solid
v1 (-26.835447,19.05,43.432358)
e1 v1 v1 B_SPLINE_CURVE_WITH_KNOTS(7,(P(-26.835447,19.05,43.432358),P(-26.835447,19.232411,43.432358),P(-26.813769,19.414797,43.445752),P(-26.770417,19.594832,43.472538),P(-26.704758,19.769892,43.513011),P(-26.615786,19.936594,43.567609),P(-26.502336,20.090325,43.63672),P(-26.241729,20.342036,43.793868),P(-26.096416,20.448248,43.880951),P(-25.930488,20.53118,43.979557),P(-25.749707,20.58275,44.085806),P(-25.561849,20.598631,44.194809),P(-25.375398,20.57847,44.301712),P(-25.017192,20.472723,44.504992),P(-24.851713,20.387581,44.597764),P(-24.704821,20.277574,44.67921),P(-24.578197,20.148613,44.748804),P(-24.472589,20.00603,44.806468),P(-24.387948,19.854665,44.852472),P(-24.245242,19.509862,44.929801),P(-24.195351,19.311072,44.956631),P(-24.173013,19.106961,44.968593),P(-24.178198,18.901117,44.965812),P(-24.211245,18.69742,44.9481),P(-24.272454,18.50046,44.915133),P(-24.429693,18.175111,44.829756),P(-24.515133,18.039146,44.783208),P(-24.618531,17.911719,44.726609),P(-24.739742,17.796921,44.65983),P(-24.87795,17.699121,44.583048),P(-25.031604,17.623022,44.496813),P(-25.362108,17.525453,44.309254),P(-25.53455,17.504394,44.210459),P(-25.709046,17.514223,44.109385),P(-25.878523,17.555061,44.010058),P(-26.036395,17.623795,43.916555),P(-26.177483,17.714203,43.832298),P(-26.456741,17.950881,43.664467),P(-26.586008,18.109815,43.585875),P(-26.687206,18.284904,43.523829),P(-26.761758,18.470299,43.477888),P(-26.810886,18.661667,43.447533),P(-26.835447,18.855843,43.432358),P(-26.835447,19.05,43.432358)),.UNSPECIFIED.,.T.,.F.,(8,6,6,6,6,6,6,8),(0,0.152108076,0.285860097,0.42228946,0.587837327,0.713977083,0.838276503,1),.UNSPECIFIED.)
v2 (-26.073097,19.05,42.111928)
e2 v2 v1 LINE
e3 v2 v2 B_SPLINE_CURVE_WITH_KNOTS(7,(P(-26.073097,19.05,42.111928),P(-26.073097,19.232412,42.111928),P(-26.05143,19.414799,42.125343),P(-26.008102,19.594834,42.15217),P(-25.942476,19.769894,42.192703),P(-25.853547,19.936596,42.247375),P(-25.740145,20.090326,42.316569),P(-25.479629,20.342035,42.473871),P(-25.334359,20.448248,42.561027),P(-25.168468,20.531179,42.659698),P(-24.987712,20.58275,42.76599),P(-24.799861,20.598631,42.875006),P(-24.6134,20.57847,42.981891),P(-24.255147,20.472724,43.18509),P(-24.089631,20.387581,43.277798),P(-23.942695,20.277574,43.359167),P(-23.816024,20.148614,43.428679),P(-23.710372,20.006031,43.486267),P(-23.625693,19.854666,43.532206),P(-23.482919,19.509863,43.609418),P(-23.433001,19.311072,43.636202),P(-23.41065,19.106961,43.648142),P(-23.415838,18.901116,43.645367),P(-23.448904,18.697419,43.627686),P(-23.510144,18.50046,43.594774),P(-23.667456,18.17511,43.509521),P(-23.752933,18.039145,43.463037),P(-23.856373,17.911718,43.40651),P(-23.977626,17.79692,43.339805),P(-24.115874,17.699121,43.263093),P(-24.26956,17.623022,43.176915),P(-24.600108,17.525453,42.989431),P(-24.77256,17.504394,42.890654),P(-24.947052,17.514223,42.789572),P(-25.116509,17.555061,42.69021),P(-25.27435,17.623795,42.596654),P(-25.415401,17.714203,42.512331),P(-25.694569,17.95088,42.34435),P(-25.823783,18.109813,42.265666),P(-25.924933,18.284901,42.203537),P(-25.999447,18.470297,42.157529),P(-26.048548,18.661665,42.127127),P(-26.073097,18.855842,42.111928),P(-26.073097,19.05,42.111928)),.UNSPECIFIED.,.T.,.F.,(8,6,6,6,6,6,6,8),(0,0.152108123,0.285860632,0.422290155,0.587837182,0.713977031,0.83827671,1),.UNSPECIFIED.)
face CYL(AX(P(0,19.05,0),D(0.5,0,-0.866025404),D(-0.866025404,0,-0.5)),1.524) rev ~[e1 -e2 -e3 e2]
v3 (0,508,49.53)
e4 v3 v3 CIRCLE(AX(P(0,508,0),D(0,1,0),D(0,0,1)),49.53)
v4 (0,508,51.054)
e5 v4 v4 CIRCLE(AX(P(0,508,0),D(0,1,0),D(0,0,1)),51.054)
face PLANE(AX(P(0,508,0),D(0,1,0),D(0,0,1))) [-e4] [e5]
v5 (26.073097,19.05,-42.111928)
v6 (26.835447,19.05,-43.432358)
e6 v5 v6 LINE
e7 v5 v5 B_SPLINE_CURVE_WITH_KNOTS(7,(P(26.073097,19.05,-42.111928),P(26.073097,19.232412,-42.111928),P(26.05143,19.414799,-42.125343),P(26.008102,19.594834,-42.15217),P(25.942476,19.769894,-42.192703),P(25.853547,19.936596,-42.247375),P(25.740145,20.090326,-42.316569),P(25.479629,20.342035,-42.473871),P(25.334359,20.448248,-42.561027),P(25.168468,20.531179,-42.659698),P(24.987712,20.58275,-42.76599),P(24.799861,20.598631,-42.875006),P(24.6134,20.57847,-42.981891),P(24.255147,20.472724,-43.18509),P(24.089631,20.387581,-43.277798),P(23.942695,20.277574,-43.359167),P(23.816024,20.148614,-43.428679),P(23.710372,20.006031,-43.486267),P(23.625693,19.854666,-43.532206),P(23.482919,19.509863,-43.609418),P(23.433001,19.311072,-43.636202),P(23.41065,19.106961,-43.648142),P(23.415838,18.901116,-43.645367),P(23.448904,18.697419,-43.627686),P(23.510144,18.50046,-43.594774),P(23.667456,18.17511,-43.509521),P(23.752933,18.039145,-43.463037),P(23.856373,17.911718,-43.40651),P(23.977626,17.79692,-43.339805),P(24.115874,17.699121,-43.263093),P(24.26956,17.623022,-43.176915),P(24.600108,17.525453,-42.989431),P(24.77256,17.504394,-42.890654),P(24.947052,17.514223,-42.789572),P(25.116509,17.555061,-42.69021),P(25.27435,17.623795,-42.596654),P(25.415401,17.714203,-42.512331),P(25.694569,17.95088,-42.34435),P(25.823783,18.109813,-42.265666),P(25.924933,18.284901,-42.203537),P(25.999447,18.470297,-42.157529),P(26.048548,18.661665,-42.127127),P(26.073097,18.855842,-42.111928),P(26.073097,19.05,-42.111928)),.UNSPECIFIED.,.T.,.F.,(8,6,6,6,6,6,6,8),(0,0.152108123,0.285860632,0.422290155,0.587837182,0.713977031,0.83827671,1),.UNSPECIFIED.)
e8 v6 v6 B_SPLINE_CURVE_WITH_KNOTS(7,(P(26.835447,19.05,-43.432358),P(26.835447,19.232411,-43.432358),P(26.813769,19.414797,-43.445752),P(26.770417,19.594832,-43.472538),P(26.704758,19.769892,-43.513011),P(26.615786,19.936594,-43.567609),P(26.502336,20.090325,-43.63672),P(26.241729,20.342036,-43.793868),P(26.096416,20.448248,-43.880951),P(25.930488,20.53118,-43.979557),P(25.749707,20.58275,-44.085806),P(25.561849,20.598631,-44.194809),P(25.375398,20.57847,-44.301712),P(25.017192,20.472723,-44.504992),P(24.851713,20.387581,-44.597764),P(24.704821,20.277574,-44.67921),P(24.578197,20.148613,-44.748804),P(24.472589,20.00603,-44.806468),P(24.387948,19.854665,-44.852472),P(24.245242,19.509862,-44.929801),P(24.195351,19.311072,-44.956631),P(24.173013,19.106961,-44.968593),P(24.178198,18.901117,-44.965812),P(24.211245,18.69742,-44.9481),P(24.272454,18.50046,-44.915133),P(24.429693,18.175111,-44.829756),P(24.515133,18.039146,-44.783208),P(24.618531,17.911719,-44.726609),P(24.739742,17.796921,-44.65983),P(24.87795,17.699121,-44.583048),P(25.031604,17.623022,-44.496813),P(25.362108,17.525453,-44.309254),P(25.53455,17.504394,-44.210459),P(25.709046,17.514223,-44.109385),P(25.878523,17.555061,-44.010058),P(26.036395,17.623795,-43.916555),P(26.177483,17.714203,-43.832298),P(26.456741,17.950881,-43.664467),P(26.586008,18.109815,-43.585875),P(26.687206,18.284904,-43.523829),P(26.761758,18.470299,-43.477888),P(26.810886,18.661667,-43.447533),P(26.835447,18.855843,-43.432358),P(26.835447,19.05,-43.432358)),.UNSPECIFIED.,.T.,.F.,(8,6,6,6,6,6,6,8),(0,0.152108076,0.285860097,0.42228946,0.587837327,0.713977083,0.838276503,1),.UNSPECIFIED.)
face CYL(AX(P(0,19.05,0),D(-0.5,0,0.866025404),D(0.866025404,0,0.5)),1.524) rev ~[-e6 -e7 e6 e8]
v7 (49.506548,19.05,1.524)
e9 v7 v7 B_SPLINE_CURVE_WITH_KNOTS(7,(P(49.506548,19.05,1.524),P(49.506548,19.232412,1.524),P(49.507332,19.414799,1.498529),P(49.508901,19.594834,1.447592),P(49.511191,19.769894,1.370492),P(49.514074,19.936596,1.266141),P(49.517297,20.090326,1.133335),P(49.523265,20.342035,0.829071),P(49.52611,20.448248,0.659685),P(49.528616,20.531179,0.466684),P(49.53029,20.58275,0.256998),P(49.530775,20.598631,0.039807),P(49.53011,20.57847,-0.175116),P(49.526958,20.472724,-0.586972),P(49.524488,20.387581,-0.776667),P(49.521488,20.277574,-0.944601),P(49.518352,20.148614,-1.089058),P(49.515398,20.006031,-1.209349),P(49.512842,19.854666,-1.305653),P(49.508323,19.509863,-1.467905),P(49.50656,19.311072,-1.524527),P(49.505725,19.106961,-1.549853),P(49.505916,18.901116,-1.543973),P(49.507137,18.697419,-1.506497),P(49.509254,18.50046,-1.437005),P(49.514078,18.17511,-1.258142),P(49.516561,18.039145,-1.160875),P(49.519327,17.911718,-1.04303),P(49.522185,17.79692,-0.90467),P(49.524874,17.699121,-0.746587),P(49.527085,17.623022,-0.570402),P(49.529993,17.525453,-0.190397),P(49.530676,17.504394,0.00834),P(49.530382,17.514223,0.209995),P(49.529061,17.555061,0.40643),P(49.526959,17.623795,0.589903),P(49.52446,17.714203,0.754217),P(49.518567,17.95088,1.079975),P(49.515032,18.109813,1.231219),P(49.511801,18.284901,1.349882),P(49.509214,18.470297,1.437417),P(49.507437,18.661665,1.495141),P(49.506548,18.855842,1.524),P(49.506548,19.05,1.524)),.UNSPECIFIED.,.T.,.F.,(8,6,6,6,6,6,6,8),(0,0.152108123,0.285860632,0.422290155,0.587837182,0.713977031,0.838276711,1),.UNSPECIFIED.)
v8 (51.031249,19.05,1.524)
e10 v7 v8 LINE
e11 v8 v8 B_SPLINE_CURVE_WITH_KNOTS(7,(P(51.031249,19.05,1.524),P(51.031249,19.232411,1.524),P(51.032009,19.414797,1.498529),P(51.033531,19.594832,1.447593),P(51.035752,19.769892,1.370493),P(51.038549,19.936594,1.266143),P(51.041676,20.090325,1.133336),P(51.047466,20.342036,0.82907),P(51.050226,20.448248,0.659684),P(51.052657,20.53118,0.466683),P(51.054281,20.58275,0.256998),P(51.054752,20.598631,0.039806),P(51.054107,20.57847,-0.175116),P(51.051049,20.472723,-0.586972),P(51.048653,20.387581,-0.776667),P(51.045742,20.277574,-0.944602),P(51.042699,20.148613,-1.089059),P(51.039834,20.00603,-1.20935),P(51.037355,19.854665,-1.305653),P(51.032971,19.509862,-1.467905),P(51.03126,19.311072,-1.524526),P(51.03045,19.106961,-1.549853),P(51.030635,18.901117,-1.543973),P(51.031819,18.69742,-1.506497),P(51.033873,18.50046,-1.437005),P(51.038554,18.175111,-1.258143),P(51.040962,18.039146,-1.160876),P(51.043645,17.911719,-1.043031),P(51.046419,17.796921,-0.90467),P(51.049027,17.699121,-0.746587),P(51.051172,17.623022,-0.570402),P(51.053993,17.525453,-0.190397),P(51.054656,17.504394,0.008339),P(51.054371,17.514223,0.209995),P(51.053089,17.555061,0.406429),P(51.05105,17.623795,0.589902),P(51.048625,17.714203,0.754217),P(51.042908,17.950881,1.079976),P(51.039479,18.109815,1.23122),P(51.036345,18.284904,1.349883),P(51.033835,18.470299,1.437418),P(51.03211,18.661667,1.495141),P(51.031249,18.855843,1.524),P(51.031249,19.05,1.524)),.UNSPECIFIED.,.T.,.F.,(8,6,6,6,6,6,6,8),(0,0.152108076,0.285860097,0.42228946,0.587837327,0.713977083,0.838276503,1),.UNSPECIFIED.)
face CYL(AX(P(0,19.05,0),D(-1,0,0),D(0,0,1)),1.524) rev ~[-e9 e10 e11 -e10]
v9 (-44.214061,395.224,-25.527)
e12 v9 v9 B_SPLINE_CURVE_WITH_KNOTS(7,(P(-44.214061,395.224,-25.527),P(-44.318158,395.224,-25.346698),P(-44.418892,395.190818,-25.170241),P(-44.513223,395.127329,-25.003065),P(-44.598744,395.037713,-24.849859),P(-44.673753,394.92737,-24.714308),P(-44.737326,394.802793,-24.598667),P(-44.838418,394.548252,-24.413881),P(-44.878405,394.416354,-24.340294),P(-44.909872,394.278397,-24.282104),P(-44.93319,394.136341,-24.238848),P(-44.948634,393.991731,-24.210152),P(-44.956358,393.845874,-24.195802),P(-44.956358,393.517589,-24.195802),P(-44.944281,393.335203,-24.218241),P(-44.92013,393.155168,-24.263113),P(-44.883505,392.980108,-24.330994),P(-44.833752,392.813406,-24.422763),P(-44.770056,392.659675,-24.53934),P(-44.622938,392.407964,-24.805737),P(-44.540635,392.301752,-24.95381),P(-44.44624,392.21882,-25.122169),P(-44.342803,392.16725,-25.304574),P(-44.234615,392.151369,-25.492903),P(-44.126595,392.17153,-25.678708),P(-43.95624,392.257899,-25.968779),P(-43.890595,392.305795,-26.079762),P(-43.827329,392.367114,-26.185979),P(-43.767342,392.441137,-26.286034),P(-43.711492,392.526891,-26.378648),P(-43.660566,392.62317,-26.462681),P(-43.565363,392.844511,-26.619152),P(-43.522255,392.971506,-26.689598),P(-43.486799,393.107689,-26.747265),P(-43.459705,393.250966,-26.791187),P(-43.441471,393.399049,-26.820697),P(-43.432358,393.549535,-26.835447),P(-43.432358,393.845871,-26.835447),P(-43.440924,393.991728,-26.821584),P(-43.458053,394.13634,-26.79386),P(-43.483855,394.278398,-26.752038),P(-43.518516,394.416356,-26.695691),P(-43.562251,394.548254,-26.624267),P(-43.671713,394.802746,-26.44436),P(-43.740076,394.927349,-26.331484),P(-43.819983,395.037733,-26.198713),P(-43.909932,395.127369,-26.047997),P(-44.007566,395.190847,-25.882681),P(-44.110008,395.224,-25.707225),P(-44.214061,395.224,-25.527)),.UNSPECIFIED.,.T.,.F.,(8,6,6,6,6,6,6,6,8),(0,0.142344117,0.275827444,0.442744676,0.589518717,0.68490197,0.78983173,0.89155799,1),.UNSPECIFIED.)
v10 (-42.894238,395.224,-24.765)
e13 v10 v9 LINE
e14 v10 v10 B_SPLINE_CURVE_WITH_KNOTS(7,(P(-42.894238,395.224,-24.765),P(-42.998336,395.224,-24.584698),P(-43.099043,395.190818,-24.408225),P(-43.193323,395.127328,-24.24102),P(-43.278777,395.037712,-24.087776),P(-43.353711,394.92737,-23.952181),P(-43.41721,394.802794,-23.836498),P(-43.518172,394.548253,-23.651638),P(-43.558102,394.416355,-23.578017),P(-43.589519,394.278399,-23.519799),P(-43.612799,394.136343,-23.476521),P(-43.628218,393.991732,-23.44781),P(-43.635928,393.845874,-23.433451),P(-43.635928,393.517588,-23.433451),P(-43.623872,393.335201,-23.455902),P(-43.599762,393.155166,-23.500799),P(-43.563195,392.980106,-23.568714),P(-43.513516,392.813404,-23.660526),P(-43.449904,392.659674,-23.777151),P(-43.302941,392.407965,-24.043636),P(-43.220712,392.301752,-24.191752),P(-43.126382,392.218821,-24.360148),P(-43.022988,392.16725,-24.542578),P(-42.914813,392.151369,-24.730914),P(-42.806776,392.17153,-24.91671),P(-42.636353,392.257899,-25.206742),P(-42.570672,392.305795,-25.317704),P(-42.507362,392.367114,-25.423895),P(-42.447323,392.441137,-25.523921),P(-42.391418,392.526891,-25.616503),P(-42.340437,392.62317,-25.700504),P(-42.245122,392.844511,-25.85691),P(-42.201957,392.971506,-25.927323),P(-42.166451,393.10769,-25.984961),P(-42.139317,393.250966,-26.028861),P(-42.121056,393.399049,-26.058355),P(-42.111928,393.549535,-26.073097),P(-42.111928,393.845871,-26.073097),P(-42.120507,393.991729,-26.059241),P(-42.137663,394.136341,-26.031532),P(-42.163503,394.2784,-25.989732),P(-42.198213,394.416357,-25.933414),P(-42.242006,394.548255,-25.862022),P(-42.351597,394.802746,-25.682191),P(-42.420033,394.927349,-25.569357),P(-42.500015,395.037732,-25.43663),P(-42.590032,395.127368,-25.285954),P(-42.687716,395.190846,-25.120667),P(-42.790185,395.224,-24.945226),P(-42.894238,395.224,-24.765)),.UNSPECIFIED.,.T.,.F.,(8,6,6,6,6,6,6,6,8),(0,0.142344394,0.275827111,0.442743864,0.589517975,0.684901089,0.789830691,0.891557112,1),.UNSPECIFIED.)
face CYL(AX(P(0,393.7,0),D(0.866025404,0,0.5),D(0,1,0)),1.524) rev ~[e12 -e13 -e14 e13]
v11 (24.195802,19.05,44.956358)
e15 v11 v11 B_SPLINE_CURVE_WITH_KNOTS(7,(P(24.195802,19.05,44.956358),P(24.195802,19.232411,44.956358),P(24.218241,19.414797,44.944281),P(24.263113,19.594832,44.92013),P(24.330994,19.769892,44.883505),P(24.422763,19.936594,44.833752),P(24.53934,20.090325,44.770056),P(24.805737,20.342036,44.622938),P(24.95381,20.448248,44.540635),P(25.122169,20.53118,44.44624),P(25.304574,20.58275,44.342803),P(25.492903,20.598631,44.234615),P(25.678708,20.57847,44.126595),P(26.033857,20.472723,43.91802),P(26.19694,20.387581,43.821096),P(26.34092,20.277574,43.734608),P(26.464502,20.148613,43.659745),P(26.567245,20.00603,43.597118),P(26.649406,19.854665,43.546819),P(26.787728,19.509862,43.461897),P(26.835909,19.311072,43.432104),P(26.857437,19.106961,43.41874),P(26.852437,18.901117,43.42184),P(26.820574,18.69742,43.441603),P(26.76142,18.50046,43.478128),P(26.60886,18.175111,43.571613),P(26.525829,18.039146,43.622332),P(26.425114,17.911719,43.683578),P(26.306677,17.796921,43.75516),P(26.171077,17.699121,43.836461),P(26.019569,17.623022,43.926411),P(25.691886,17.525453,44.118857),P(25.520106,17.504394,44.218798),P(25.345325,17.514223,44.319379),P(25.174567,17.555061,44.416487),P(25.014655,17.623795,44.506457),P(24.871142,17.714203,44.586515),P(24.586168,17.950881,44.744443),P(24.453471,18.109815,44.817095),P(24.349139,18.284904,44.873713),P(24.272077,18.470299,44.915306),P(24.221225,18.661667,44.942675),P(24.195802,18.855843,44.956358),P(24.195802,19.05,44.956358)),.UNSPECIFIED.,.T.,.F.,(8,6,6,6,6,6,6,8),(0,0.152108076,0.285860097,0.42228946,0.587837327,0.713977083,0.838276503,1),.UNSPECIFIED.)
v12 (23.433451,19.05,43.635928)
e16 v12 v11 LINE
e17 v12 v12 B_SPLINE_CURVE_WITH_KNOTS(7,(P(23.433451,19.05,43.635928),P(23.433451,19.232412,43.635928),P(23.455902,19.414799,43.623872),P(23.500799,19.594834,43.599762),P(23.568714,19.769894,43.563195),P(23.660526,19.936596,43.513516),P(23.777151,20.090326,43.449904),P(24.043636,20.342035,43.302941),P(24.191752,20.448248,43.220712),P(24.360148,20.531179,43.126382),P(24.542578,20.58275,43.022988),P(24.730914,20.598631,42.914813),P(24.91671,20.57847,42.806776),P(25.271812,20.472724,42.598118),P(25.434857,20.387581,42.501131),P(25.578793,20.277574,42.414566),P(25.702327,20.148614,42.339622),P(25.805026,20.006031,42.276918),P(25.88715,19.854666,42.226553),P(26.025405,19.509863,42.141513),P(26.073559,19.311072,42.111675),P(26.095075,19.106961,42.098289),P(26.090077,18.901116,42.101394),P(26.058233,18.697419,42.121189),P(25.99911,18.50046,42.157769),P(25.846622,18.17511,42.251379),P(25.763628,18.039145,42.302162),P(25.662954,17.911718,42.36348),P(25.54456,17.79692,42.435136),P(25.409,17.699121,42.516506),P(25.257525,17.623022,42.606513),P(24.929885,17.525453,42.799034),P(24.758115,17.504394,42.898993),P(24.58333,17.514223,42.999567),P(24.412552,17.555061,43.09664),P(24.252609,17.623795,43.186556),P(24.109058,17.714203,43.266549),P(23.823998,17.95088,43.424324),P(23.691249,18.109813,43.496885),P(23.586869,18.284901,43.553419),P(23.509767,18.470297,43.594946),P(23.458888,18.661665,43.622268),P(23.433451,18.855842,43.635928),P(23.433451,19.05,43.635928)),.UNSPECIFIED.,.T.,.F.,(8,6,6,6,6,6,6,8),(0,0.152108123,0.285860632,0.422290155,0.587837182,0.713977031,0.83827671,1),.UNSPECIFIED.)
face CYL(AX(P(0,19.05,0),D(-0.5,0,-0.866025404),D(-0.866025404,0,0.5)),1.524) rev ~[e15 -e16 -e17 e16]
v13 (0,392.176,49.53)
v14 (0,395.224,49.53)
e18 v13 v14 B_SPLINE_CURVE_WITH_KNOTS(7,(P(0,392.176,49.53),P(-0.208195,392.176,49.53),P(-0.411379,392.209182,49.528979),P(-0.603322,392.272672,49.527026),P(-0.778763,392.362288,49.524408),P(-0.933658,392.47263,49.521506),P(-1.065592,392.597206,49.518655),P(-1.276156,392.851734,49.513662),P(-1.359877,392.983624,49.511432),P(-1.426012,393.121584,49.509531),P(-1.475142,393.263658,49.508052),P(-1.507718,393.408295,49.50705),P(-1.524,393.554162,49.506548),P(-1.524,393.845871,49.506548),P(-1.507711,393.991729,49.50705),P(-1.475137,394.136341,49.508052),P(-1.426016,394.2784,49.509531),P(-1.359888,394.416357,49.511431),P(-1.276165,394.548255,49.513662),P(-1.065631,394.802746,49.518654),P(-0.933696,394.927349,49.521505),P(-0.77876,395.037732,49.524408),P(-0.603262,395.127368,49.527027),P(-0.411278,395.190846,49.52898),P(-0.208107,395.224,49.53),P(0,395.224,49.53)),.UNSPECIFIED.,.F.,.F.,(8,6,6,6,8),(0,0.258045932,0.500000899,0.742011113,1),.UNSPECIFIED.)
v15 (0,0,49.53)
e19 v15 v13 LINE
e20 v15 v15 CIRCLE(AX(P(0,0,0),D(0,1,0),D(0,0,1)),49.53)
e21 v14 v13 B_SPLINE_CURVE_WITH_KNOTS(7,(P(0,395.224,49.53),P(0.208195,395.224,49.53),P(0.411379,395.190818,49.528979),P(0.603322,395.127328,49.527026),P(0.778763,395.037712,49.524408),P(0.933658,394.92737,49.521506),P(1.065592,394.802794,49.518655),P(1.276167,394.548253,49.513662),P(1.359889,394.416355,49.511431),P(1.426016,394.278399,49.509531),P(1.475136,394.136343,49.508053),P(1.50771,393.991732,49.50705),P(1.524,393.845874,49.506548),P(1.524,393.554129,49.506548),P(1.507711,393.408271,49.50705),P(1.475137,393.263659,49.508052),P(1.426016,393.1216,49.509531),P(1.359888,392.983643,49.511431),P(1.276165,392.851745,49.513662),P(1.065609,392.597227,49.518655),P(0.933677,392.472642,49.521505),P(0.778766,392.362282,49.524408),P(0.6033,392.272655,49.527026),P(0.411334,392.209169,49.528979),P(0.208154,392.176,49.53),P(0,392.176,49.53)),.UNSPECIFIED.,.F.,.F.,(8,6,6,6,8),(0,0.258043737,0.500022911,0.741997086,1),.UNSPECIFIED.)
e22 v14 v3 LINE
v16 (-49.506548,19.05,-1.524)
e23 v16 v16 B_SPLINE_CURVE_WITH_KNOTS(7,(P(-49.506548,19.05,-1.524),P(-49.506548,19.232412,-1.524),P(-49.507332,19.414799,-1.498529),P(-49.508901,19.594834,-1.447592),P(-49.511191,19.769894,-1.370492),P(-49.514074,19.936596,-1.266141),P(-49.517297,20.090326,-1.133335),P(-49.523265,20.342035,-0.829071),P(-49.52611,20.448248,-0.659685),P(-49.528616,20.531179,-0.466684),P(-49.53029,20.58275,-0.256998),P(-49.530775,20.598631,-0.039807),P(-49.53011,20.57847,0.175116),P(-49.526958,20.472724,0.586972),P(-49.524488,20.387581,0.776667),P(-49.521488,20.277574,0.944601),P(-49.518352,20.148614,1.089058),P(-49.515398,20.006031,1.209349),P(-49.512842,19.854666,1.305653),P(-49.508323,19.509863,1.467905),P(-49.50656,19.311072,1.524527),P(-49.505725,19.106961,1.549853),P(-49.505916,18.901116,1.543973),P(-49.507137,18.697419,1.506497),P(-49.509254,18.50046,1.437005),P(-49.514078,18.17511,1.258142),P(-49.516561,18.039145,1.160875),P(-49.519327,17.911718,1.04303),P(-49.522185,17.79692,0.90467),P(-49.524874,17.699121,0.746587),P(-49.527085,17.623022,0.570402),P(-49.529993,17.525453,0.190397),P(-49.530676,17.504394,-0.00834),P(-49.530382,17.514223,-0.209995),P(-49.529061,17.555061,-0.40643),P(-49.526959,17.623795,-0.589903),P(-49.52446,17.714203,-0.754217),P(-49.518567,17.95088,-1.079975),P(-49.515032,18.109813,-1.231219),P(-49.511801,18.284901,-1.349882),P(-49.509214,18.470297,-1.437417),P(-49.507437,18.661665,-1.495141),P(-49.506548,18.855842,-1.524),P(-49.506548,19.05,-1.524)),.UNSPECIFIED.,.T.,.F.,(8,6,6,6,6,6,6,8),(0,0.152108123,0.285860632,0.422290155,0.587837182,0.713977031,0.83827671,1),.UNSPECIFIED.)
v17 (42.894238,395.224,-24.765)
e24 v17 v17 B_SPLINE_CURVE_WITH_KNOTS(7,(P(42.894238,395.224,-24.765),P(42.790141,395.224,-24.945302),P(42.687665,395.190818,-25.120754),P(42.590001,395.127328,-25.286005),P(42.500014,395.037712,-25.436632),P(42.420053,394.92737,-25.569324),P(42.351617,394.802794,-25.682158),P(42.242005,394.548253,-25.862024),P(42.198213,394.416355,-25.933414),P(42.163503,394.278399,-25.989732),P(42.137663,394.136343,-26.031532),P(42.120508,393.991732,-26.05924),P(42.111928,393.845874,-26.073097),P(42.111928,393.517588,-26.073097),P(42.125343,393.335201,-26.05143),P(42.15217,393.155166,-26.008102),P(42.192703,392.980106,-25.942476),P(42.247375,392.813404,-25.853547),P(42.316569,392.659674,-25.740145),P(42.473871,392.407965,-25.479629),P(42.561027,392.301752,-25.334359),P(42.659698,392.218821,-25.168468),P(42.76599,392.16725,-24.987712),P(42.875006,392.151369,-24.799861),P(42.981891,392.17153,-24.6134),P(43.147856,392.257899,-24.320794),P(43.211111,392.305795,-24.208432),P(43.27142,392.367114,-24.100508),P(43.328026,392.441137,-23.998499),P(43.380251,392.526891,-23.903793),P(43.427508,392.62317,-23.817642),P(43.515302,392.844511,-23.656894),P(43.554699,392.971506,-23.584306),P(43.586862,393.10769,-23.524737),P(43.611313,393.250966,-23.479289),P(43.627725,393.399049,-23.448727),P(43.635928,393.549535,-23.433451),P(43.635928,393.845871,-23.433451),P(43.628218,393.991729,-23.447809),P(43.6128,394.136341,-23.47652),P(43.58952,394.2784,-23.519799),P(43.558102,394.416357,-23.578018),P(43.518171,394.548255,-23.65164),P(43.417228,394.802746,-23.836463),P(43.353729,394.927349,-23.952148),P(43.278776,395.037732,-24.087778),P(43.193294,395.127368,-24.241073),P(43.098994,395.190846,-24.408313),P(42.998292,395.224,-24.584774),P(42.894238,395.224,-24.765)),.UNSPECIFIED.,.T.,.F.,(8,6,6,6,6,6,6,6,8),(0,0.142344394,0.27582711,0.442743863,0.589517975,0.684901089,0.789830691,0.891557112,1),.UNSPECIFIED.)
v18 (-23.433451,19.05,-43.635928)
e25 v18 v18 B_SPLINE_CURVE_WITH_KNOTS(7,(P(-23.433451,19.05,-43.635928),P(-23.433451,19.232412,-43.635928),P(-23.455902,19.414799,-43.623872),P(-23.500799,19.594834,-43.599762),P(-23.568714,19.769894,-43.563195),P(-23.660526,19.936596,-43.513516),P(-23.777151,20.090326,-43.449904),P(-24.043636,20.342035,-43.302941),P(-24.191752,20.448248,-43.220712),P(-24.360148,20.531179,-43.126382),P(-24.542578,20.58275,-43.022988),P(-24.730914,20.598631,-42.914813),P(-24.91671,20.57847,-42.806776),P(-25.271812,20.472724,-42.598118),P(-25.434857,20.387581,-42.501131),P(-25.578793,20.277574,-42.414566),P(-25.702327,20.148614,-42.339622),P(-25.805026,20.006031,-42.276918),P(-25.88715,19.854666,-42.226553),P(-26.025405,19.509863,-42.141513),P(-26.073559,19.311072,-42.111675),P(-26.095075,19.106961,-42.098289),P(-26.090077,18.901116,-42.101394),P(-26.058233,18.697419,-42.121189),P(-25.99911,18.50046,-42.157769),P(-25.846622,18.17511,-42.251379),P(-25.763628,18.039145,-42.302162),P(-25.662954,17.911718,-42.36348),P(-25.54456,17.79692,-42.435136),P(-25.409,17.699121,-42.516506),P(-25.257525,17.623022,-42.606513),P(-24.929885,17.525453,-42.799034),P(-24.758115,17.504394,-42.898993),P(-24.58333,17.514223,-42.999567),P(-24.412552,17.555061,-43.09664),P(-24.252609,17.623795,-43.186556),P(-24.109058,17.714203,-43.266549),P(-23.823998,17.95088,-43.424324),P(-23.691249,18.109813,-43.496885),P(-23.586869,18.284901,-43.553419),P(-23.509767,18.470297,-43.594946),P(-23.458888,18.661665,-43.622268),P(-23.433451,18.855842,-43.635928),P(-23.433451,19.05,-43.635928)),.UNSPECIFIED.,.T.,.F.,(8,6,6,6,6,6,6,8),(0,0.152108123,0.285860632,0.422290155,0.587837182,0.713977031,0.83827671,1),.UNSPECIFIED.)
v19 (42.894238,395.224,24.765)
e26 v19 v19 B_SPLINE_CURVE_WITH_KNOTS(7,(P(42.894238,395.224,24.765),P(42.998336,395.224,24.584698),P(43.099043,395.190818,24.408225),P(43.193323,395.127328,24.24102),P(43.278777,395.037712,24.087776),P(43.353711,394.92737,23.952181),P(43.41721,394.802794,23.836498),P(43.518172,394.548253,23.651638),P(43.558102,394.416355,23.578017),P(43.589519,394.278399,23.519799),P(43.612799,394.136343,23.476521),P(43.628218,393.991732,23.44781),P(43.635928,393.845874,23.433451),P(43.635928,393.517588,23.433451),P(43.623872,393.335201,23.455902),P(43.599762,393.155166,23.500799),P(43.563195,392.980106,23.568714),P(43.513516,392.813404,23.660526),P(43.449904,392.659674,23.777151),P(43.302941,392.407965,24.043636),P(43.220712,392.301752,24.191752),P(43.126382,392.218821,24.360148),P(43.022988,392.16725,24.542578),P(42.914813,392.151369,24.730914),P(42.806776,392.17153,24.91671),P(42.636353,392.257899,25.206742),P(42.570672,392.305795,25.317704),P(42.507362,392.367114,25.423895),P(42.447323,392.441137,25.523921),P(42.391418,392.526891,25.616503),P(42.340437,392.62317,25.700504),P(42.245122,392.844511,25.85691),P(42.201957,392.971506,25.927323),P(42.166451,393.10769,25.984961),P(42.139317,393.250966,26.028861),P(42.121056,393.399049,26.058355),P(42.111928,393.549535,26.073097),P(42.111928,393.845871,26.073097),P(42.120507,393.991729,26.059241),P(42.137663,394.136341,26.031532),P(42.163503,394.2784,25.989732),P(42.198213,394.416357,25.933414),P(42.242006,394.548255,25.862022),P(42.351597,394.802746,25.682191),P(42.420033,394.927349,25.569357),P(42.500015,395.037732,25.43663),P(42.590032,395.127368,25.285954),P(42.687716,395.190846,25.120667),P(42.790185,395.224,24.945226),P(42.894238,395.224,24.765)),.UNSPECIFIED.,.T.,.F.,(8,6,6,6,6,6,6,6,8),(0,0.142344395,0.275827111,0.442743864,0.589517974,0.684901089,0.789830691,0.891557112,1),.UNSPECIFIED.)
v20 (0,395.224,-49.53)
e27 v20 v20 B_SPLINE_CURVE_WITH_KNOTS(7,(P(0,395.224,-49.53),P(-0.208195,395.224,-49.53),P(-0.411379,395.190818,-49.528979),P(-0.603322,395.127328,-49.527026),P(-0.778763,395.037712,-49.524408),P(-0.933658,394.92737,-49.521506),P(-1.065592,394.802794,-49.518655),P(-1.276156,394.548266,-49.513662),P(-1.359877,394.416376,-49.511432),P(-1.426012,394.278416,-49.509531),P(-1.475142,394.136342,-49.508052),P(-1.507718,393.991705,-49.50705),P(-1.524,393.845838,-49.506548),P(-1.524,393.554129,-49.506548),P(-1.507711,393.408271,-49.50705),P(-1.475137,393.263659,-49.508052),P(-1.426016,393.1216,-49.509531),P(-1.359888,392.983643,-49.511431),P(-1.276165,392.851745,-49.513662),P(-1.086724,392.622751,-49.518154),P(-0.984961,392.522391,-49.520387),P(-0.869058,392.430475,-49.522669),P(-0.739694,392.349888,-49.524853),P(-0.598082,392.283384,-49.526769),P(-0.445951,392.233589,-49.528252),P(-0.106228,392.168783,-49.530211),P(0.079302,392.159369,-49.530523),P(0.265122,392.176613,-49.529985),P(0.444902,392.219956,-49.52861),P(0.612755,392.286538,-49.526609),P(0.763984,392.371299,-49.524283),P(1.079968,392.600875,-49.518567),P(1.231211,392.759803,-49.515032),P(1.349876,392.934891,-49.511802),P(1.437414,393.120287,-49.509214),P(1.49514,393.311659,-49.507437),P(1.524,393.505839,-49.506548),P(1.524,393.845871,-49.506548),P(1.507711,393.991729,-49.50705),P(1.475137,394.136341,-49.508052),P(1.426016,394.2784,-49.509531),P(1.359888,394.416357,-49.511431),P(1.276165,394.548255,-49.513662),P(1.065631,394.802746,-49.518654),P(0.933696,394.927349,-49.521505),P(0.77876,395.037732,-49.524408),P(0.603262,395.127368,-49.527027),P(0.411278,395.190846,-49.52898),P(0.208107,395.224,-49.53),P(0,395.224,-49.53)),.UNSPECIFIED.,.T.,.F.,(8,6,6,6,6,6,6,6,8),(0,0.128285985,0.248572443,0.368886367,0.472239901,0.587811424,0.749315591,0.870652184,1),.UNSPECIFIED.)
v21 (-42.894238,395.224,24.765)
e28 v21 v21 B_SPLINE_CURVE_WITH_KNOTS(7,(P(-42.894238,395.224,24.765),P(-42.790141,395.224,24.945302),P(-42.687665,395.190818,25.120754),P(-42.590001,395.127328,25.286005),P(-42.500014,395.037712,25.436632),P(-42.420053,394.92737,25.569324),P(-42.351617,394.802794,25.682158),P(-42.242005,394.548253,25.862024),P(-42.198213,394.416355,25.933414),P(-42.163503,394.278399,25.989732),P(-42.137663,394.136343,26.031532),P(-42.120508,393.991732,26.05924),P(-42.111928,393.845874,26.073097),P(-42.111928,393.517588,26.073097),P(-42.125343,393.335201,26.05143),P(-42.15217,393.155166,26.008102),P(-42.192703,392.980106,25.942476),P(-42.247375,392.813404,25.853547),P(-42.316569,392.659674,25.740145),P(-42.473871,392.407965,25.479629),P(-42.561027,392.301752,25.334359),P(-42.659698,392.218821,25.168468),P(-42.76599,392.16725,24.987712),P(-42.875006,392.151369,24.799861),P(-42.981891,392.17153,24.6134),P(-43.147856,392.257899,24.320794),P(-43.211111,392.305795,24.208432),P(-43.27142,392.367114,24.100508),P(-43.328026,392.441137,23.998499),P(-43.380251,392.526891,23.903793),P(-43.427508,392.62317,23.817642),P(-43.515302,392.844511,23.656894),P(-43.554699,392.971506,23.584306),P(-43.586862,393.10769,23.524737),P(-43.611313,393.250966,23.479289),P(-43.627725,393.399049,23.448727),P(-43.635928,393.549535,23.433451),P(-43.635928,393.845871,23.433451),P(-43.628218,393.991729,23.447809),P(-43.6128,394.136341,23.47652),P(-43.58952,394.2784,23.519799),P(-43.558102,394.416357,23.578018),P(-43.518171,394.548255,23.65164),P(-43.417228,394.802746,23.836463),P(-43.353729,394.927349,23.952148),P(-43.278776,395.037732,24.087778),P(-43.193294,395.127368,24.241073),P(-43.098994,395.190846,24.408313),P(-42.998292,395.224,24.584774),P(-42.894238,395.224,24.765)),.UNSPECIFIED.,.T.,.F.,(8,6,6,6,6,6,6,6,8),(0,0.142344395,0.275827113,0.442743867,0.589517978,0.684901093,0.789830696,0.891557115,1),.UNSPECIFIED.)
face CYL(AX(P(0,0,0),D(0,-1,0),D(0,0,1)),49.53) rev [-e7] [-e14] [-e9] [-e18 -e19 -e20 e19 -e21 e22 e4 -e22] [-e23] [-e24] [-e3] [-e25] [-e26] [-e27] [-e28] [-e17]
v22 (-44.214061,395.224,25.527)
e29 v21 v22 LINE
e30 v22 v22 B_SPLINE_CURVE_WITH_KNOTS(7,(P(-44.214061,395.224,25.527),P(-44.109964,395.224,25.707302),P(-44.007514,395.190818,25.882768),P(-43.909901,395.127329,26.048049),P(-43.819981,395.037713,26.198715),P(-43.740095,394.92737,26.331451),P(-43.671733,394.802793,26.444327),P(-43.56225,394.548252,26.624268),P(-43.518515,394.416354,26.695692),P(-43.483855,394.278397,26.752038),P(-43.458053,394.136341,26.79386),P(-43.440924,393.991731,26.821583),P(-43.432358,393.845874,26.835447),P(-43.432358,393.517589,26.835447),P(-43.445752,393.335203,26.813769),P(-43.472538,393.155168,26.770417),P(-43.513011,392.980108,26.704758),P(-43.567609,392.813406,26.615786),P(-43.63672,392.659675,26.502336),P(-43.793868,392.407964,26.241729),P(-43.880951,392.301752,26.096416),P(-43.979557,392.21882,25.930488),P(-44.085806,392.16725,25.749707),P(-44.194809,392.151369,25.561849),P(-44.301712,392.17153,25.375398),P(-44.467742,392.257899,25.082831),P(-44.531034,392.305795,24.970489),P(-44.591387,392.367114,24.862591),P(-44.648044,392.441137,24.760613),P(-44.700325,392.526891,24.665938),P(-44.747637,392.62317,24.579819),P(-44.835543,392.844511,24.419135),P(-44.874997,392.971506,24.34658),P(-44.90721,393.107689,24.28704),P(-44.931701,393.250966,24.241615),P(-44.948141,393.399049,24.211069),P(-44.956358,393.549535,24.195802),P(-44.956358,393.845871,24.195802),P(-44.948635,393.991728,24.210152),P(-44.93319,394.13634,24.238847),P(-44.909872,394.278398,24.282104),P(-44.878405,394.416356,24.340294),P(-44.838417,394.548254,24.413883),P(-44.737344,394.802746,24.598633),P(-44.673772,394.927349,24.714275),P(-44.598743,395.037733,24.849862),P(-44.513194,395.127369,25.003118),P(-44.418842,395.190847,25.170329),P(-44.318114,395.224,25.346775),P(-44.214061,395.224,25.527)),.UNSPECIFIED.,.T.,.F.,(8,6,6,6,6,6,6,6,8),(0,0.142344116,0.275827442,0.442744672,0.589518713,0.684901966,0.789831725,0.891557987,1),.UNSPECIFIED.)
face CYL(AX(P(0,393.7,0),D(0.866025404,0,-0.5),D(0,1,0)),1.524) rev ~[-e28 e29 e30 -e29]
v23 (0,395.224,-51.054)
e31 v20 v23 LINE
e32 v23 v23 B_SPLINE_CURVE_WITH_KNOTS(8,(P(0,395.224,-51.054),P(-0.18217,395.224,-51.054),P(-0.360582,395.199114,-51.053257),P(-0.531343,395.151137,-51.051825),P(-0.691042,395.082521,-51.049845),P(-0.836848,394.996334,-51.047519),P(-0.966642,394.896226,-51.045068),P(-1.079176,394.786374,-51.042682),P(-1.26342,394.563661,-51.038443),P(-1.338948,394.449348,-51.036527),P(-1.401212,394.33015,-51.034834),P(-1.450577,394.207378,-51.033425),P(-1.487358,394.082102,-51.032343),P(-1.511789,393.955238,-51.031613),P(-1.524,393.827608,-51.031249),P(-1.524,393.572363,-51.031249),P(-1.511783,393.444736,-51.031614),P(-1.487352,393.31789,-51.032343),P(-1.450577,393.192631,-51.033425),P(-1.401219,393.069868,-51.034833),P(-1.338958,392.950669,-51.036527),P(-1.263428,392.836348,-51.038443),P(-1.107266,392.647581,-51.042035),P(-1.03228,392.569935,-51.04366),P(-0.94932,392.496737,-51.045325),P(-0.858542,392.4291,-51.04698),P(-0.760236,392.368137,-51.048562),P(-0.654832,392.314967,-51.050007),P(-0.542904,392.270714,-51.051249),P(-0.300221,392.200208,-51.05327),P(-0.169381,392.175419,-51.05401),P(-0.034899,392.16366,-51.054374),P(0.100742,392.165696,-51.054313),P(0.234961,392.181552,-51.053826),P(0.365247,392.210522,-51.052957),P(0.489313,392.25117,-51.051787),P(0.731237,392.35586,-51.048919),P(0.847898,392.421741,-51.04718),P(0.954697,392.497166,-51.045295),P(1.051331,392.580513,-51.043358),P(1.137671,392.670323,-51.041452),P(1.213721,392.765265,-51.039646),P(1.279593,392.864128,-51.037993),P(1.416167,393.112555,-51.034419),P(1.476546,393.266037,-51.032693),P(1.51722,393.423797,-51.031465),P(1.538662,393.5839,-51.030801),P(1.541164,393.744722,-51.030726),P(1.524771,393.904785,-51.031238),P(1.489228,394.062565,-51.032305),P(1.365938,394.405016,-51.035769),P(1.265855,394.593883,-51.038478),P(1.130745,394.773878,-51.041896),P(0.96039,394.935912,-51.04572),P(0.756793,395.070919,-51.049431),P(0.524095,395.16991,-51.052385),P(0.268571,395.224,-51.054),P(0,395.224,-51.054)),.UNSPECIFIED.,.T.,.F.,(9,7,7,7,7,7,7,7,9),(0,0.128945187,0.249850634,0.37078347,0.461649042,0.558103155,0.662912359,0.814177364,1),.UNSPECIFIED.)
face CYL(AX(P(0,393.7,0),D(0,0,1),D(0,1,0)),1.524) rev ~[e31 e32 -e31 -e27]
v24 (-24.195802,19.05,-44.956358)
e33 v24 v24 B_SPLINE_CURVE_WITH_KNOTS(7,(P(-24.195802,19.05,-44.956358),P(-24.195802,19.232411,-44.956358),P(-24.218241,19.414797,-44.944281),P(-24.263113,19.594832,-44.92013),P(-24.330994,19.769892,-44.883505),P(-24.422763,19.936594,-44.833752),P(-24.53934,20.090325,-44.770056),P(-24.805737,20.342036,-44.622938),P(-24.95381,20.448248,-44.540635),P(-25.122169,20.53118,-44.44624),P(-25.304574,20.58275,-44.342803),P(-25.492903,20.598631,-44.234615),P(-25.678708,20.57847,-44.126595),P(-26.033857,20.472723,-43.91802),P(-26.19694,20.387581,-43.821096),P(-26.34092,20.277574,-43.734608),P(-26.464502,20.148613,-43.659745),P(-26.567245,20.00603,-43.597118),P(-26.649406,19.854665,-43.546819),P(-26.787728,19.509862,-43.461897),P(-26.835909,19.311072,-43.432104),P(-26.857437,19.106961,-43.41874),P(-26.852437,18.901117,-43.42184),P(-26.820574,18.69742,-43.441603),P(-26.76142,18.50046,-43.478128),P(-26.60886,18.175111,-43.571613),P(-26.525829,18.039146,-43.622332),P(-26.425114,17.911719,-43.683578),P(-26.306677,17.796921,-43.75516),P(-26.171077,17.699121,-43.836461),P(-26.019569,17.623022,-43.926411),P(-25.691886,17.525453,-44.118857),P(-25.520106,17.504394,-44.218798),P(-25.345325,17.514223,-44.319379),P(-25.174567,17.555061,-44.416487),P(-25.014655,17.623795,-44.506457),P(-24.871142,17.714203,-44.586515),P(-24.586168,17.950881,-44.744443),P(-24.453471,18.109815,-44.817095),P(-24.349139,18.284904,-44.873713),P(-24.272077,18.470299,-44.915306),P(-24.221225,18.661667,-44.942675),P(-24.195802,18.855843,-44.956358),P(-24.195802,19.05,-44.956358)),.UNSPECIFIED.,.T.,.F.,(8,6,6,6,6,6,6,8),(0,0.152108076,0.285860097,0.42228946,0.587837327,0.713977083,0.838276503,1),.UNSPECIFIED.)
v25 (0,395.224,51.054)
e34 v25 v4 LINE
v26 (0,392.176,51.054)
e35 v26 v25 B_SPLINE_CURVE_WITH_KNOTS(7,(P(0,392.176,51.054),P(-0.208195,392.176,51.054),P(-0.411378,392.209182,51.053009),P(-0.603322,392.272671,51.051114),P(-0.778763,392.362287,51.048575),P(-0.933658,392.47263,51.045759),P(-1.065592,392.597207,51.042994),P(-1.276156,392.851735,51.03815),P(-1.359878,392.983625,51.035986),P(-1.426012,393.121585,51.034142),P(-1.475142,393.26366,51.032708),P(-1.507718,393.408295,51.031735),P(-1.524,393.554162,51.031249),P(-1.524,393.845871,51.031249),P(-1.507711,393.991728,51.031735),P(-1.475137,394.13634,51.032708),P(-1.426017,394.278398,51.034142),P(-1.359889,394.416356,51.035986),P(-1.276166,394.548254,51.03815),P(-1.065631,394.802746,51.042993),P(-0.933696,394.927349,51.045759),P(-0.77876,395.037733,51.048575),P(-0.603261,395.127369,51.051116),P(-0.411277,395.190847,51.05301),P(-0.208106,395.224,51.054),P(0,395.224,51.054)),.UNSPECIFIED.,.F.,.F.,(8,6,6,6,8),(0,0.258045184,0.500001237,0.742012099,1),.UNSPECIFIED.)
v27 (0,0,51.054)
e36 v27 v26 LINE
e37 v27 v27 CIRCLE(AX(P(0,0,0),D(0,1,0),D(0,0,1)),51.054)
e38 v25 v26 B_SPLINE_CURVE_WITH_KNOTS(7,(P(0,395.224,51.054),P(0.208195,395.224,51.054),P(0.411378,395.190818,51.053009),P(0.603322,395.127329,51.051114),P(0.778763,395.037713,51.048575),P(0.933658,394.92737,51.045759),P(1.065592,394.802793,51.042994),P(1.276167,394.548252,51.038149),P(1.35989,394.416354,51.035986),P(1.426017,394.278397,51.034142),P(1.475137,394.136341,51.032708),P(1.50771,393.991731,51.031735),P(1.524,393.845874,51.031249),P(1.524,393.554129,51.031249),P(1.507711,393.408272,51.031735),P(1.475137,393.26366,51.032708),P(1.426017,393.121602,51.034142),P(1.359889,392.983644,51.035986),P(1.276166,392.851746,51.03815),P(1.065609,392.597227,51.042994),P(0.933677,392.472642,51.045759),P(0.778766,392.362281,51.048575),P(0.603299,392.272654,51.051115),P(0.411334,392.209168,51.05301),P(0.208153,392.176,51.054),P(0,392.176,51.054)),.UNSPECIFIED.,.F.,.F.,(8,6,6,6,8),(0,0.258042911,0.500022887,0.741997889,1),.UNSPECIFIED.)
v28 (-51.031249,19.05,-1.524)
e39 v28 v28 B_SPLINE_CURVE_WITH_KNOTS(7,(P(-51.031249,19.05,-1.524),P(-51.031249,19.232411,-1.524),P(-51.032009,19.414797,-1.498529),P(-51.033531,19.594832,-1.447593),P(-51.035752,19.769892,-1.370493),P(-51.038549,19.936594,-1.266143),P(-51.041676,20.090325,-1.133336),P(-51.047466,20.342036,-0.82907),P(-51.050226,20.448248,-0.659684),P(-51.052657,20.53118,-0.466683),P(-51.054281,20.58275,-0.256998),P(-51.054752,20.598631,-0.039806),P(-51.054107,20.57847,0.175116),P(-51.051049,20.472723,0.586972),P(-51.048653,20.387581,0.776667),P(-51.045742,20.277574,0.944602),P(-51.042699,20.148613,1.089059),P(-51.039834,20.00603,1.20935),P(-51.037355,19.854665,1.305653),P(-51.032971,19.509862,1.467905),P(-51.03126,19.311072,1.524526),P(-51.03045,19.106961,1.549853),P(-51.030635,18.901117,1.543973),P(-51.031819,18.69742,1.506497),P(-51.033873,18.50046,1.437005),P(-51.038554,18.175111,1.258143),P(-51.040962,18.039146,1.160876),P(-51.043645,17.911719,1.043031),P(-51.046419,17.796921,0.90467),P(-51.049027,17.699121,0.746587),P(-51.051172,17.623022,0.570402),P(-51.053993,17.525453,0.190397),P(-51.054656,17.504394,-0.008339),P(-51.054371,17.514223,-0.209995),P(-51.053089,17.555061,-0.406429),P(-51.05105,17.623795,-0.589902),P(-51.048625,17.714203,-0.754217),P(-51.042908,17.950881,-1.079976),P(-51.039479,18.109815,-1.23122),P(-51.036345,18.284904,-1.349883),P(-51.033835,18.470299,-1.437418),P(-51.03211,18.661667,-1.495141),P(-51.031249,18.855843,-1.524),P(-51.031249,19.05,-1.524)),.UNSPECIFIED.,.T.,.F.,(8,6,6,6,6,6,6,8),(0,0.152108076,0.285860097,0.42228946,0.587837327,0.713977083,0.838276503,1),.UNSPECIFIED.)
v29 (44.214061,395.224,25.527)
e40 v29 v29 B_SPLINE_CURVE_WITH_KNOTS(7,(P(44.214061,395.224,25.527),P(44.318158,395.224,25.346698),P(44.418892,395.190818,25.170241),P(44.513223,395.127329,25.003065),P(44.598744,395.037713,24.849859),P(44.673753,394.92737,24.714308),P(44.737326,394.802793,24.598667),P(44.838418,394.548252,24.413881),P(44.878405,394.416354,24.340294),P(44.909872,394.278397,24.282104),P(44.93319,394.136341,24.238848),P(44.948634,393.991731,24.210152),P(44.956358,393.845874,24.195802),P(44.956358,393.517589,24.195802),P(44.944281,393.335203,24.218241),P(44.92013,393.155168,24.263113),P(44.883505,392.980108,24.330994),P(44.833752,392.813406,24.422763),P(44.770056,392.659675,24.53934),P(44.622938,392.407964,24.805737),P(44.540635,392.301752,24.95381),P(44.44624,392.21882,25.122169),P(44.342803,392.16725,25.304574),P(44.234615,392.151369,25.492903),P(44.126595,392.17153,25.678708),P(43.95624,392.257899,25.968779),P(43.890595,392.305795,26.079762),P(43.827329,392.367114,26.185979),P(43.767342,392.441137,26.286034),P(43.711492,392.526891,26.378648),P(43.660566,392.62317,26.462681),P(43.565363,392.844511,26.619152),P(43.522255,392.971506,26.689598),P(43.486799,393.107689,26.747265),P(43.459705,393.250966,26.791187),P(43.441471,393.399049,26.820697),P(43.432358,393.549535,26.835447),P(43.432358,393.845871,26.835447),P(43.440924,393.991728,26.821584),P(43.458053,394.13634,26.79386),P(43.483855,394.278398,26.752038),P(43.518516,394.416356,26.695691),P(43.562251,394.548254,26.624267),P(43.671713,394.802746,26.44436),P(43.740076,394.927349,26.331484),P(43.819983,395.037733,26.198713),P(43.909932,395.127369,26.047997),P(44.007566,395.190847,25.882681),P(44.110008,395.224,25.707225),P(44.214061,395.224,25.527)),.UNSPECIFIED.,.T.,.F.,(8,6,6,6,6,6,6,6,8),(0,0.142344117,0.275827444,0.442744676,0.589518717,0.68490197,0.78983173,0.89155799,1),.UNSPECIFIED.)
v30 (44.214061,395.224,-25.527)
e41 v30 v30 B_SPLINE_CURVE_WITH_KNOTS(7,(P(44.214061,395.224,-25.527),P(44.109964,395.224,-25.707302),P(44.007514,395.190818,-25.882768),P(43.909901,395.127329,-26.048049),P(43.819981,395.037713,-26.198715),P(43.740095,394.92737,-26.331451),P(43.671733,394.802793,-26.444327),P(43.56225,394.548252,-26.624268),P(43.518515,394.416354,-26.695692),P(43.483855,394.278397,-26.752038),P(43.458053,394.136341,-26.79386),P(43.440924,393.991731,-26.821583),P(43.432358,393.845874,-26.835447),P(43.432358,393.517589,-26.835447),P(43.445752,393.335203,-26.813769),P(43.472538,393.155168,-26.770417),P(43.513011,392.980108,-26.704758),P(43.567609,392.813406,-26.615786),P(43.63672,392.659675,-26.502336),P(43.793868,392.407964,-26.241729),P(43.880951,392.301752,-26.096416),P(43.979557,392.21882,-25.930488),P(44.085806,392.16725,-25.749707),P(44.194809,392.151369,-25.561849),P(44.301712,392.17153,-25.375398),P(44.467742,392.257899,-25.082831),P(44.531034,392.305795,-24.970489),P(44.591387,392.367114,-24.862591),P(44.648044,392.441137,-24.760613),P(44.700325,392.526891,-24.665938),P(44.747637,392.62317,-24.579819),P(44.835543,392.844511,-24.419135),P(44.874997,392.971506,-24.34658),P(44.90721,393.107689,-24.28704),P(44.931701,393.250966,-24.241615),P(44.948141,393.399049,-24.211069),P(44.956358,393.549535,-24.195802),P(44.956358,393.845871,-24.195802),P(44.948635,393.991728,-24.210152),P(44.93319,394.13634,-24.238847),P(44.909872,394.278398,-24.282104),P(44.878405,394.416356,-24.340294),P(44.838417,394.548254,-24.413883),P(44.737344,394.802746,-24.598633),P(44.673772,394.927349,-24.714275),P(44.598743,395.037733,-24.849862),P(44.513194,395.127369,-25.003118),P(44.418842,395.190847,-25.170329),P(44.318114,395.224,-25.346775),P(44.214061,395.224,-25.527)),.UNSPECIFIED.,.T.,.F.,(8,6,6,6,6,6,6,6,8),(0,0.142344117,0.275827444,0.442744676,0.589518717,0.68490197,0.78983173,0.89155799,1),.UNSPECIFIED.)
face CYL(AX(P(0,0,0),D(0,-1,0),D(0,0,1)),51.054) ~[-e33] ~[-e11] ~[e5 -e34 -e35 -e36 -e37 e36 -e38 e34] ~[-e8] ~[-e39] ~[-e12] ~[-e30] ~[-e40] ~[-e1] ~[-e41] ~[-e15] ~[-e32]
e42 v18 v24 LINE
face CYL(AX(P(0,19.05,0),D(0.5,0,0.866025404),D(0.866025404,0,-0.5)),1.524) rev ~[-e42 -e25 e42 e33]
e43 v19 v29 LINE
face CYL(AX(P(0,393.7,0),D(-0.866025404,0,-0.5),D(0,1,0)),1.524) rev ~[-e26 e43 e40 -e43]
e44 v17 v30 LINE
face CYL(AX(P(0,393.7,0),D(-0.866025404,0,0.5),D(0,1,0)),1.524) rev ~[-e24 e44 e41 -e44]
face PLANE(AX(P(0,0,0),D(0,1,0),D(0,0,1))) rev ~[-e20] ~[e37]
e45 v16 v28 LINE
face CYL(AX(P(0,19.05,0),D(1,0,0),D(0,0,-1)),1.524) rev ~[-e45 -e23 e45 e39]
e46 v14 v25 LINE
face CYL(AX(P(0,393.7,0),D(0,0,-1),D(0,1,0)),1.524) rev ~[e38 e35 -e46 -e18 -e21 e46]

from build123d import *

# Parameters (mm, degrees)
SKETCH2_R           = 51.054
SKETCH2_R_2         = 49.53
BOSS_EXTRUDE1_DEPTH = 508
SKETCH3_R           = 1.524
CUT_EXTRUDE1_DEPTH  = 74.422
CIRPATTERN1_COUNT   = 6
SKETCH4_R           = 1.524
CUT_EXTRUDE2_DEPTH  = 74.422
CIRPATTERN2_COUNT   = 6


with BuildPart() as part:
    # Sketch2 → Boss-Extrude1 (new body)
    with BuildSketch(Plane(origin=(0, 0, 0), x_dir=(1, 0, 0), z_dir=(0, 1, 0))):
        with Locations(Location((0, 0, 0), (0, 0, 270))):
            Circle(SKETCH2_R)
        with Locations(Location((0, 0, 0), (0, 0, 270))):
            Circle(SKETCH2_R_2, mode=Mode.SUBTRACT)
    extrude(amount=BOSS_EXTRUDE1_DEPTH)

    # Sketch3 → Cut-Extrude1 (cut)
    with BuildSketch(Plane.XY):
        with Locations(Location((0, 393.7, 0), (0, 0, 90))):
            Circle(SKETCH3_R)
    cut_extrude1 = extrude(amount=-CUT_EXTRUDE1_DEPTH, mode=Mode.SUBTRACT)

    # CirPattern1: Cut-Extrude1 ×6 about axis
    cirpattern1_axis = Axis((0, 508, 0), (0, -1, 0))
    for i in range(1, CIRPATTERN1_COUNT):
        add(cut_extrude1.rotate(cirpattern1_axis, i * 360 / CIRPATTERN1_COUNT), mode=Mode.SUBTRACT)

    # Sketch4 → Cut-Extrude2 (cut)
    with BuildSketch(Plane(origin=(0, 0, 0), x_dir=(0, 0, -1), z_dir=(1, 0, 0))):
        with Locations((0, 19.05)):
            Circle(SKETCH4_R)
    cut_extrude2 = extrude(amount=-CUT_EXTRUDE2_DEPTH, mode=Mode.SUBTRACT)

    # CirPattern2: Cut-Extrude2 ×6 about axis
    cirpattern2_axis = Axis((0, 508, 0), (0, -1, 0))
    for i in range(1, CIRPATTERN2_COUNT):
        add(cut_extrude2.rotate(cirpattern2_axis, i * 360 / CIRPATTERN2_COUNT), mode=Mode.SUBTRACT)


solid = part.part
